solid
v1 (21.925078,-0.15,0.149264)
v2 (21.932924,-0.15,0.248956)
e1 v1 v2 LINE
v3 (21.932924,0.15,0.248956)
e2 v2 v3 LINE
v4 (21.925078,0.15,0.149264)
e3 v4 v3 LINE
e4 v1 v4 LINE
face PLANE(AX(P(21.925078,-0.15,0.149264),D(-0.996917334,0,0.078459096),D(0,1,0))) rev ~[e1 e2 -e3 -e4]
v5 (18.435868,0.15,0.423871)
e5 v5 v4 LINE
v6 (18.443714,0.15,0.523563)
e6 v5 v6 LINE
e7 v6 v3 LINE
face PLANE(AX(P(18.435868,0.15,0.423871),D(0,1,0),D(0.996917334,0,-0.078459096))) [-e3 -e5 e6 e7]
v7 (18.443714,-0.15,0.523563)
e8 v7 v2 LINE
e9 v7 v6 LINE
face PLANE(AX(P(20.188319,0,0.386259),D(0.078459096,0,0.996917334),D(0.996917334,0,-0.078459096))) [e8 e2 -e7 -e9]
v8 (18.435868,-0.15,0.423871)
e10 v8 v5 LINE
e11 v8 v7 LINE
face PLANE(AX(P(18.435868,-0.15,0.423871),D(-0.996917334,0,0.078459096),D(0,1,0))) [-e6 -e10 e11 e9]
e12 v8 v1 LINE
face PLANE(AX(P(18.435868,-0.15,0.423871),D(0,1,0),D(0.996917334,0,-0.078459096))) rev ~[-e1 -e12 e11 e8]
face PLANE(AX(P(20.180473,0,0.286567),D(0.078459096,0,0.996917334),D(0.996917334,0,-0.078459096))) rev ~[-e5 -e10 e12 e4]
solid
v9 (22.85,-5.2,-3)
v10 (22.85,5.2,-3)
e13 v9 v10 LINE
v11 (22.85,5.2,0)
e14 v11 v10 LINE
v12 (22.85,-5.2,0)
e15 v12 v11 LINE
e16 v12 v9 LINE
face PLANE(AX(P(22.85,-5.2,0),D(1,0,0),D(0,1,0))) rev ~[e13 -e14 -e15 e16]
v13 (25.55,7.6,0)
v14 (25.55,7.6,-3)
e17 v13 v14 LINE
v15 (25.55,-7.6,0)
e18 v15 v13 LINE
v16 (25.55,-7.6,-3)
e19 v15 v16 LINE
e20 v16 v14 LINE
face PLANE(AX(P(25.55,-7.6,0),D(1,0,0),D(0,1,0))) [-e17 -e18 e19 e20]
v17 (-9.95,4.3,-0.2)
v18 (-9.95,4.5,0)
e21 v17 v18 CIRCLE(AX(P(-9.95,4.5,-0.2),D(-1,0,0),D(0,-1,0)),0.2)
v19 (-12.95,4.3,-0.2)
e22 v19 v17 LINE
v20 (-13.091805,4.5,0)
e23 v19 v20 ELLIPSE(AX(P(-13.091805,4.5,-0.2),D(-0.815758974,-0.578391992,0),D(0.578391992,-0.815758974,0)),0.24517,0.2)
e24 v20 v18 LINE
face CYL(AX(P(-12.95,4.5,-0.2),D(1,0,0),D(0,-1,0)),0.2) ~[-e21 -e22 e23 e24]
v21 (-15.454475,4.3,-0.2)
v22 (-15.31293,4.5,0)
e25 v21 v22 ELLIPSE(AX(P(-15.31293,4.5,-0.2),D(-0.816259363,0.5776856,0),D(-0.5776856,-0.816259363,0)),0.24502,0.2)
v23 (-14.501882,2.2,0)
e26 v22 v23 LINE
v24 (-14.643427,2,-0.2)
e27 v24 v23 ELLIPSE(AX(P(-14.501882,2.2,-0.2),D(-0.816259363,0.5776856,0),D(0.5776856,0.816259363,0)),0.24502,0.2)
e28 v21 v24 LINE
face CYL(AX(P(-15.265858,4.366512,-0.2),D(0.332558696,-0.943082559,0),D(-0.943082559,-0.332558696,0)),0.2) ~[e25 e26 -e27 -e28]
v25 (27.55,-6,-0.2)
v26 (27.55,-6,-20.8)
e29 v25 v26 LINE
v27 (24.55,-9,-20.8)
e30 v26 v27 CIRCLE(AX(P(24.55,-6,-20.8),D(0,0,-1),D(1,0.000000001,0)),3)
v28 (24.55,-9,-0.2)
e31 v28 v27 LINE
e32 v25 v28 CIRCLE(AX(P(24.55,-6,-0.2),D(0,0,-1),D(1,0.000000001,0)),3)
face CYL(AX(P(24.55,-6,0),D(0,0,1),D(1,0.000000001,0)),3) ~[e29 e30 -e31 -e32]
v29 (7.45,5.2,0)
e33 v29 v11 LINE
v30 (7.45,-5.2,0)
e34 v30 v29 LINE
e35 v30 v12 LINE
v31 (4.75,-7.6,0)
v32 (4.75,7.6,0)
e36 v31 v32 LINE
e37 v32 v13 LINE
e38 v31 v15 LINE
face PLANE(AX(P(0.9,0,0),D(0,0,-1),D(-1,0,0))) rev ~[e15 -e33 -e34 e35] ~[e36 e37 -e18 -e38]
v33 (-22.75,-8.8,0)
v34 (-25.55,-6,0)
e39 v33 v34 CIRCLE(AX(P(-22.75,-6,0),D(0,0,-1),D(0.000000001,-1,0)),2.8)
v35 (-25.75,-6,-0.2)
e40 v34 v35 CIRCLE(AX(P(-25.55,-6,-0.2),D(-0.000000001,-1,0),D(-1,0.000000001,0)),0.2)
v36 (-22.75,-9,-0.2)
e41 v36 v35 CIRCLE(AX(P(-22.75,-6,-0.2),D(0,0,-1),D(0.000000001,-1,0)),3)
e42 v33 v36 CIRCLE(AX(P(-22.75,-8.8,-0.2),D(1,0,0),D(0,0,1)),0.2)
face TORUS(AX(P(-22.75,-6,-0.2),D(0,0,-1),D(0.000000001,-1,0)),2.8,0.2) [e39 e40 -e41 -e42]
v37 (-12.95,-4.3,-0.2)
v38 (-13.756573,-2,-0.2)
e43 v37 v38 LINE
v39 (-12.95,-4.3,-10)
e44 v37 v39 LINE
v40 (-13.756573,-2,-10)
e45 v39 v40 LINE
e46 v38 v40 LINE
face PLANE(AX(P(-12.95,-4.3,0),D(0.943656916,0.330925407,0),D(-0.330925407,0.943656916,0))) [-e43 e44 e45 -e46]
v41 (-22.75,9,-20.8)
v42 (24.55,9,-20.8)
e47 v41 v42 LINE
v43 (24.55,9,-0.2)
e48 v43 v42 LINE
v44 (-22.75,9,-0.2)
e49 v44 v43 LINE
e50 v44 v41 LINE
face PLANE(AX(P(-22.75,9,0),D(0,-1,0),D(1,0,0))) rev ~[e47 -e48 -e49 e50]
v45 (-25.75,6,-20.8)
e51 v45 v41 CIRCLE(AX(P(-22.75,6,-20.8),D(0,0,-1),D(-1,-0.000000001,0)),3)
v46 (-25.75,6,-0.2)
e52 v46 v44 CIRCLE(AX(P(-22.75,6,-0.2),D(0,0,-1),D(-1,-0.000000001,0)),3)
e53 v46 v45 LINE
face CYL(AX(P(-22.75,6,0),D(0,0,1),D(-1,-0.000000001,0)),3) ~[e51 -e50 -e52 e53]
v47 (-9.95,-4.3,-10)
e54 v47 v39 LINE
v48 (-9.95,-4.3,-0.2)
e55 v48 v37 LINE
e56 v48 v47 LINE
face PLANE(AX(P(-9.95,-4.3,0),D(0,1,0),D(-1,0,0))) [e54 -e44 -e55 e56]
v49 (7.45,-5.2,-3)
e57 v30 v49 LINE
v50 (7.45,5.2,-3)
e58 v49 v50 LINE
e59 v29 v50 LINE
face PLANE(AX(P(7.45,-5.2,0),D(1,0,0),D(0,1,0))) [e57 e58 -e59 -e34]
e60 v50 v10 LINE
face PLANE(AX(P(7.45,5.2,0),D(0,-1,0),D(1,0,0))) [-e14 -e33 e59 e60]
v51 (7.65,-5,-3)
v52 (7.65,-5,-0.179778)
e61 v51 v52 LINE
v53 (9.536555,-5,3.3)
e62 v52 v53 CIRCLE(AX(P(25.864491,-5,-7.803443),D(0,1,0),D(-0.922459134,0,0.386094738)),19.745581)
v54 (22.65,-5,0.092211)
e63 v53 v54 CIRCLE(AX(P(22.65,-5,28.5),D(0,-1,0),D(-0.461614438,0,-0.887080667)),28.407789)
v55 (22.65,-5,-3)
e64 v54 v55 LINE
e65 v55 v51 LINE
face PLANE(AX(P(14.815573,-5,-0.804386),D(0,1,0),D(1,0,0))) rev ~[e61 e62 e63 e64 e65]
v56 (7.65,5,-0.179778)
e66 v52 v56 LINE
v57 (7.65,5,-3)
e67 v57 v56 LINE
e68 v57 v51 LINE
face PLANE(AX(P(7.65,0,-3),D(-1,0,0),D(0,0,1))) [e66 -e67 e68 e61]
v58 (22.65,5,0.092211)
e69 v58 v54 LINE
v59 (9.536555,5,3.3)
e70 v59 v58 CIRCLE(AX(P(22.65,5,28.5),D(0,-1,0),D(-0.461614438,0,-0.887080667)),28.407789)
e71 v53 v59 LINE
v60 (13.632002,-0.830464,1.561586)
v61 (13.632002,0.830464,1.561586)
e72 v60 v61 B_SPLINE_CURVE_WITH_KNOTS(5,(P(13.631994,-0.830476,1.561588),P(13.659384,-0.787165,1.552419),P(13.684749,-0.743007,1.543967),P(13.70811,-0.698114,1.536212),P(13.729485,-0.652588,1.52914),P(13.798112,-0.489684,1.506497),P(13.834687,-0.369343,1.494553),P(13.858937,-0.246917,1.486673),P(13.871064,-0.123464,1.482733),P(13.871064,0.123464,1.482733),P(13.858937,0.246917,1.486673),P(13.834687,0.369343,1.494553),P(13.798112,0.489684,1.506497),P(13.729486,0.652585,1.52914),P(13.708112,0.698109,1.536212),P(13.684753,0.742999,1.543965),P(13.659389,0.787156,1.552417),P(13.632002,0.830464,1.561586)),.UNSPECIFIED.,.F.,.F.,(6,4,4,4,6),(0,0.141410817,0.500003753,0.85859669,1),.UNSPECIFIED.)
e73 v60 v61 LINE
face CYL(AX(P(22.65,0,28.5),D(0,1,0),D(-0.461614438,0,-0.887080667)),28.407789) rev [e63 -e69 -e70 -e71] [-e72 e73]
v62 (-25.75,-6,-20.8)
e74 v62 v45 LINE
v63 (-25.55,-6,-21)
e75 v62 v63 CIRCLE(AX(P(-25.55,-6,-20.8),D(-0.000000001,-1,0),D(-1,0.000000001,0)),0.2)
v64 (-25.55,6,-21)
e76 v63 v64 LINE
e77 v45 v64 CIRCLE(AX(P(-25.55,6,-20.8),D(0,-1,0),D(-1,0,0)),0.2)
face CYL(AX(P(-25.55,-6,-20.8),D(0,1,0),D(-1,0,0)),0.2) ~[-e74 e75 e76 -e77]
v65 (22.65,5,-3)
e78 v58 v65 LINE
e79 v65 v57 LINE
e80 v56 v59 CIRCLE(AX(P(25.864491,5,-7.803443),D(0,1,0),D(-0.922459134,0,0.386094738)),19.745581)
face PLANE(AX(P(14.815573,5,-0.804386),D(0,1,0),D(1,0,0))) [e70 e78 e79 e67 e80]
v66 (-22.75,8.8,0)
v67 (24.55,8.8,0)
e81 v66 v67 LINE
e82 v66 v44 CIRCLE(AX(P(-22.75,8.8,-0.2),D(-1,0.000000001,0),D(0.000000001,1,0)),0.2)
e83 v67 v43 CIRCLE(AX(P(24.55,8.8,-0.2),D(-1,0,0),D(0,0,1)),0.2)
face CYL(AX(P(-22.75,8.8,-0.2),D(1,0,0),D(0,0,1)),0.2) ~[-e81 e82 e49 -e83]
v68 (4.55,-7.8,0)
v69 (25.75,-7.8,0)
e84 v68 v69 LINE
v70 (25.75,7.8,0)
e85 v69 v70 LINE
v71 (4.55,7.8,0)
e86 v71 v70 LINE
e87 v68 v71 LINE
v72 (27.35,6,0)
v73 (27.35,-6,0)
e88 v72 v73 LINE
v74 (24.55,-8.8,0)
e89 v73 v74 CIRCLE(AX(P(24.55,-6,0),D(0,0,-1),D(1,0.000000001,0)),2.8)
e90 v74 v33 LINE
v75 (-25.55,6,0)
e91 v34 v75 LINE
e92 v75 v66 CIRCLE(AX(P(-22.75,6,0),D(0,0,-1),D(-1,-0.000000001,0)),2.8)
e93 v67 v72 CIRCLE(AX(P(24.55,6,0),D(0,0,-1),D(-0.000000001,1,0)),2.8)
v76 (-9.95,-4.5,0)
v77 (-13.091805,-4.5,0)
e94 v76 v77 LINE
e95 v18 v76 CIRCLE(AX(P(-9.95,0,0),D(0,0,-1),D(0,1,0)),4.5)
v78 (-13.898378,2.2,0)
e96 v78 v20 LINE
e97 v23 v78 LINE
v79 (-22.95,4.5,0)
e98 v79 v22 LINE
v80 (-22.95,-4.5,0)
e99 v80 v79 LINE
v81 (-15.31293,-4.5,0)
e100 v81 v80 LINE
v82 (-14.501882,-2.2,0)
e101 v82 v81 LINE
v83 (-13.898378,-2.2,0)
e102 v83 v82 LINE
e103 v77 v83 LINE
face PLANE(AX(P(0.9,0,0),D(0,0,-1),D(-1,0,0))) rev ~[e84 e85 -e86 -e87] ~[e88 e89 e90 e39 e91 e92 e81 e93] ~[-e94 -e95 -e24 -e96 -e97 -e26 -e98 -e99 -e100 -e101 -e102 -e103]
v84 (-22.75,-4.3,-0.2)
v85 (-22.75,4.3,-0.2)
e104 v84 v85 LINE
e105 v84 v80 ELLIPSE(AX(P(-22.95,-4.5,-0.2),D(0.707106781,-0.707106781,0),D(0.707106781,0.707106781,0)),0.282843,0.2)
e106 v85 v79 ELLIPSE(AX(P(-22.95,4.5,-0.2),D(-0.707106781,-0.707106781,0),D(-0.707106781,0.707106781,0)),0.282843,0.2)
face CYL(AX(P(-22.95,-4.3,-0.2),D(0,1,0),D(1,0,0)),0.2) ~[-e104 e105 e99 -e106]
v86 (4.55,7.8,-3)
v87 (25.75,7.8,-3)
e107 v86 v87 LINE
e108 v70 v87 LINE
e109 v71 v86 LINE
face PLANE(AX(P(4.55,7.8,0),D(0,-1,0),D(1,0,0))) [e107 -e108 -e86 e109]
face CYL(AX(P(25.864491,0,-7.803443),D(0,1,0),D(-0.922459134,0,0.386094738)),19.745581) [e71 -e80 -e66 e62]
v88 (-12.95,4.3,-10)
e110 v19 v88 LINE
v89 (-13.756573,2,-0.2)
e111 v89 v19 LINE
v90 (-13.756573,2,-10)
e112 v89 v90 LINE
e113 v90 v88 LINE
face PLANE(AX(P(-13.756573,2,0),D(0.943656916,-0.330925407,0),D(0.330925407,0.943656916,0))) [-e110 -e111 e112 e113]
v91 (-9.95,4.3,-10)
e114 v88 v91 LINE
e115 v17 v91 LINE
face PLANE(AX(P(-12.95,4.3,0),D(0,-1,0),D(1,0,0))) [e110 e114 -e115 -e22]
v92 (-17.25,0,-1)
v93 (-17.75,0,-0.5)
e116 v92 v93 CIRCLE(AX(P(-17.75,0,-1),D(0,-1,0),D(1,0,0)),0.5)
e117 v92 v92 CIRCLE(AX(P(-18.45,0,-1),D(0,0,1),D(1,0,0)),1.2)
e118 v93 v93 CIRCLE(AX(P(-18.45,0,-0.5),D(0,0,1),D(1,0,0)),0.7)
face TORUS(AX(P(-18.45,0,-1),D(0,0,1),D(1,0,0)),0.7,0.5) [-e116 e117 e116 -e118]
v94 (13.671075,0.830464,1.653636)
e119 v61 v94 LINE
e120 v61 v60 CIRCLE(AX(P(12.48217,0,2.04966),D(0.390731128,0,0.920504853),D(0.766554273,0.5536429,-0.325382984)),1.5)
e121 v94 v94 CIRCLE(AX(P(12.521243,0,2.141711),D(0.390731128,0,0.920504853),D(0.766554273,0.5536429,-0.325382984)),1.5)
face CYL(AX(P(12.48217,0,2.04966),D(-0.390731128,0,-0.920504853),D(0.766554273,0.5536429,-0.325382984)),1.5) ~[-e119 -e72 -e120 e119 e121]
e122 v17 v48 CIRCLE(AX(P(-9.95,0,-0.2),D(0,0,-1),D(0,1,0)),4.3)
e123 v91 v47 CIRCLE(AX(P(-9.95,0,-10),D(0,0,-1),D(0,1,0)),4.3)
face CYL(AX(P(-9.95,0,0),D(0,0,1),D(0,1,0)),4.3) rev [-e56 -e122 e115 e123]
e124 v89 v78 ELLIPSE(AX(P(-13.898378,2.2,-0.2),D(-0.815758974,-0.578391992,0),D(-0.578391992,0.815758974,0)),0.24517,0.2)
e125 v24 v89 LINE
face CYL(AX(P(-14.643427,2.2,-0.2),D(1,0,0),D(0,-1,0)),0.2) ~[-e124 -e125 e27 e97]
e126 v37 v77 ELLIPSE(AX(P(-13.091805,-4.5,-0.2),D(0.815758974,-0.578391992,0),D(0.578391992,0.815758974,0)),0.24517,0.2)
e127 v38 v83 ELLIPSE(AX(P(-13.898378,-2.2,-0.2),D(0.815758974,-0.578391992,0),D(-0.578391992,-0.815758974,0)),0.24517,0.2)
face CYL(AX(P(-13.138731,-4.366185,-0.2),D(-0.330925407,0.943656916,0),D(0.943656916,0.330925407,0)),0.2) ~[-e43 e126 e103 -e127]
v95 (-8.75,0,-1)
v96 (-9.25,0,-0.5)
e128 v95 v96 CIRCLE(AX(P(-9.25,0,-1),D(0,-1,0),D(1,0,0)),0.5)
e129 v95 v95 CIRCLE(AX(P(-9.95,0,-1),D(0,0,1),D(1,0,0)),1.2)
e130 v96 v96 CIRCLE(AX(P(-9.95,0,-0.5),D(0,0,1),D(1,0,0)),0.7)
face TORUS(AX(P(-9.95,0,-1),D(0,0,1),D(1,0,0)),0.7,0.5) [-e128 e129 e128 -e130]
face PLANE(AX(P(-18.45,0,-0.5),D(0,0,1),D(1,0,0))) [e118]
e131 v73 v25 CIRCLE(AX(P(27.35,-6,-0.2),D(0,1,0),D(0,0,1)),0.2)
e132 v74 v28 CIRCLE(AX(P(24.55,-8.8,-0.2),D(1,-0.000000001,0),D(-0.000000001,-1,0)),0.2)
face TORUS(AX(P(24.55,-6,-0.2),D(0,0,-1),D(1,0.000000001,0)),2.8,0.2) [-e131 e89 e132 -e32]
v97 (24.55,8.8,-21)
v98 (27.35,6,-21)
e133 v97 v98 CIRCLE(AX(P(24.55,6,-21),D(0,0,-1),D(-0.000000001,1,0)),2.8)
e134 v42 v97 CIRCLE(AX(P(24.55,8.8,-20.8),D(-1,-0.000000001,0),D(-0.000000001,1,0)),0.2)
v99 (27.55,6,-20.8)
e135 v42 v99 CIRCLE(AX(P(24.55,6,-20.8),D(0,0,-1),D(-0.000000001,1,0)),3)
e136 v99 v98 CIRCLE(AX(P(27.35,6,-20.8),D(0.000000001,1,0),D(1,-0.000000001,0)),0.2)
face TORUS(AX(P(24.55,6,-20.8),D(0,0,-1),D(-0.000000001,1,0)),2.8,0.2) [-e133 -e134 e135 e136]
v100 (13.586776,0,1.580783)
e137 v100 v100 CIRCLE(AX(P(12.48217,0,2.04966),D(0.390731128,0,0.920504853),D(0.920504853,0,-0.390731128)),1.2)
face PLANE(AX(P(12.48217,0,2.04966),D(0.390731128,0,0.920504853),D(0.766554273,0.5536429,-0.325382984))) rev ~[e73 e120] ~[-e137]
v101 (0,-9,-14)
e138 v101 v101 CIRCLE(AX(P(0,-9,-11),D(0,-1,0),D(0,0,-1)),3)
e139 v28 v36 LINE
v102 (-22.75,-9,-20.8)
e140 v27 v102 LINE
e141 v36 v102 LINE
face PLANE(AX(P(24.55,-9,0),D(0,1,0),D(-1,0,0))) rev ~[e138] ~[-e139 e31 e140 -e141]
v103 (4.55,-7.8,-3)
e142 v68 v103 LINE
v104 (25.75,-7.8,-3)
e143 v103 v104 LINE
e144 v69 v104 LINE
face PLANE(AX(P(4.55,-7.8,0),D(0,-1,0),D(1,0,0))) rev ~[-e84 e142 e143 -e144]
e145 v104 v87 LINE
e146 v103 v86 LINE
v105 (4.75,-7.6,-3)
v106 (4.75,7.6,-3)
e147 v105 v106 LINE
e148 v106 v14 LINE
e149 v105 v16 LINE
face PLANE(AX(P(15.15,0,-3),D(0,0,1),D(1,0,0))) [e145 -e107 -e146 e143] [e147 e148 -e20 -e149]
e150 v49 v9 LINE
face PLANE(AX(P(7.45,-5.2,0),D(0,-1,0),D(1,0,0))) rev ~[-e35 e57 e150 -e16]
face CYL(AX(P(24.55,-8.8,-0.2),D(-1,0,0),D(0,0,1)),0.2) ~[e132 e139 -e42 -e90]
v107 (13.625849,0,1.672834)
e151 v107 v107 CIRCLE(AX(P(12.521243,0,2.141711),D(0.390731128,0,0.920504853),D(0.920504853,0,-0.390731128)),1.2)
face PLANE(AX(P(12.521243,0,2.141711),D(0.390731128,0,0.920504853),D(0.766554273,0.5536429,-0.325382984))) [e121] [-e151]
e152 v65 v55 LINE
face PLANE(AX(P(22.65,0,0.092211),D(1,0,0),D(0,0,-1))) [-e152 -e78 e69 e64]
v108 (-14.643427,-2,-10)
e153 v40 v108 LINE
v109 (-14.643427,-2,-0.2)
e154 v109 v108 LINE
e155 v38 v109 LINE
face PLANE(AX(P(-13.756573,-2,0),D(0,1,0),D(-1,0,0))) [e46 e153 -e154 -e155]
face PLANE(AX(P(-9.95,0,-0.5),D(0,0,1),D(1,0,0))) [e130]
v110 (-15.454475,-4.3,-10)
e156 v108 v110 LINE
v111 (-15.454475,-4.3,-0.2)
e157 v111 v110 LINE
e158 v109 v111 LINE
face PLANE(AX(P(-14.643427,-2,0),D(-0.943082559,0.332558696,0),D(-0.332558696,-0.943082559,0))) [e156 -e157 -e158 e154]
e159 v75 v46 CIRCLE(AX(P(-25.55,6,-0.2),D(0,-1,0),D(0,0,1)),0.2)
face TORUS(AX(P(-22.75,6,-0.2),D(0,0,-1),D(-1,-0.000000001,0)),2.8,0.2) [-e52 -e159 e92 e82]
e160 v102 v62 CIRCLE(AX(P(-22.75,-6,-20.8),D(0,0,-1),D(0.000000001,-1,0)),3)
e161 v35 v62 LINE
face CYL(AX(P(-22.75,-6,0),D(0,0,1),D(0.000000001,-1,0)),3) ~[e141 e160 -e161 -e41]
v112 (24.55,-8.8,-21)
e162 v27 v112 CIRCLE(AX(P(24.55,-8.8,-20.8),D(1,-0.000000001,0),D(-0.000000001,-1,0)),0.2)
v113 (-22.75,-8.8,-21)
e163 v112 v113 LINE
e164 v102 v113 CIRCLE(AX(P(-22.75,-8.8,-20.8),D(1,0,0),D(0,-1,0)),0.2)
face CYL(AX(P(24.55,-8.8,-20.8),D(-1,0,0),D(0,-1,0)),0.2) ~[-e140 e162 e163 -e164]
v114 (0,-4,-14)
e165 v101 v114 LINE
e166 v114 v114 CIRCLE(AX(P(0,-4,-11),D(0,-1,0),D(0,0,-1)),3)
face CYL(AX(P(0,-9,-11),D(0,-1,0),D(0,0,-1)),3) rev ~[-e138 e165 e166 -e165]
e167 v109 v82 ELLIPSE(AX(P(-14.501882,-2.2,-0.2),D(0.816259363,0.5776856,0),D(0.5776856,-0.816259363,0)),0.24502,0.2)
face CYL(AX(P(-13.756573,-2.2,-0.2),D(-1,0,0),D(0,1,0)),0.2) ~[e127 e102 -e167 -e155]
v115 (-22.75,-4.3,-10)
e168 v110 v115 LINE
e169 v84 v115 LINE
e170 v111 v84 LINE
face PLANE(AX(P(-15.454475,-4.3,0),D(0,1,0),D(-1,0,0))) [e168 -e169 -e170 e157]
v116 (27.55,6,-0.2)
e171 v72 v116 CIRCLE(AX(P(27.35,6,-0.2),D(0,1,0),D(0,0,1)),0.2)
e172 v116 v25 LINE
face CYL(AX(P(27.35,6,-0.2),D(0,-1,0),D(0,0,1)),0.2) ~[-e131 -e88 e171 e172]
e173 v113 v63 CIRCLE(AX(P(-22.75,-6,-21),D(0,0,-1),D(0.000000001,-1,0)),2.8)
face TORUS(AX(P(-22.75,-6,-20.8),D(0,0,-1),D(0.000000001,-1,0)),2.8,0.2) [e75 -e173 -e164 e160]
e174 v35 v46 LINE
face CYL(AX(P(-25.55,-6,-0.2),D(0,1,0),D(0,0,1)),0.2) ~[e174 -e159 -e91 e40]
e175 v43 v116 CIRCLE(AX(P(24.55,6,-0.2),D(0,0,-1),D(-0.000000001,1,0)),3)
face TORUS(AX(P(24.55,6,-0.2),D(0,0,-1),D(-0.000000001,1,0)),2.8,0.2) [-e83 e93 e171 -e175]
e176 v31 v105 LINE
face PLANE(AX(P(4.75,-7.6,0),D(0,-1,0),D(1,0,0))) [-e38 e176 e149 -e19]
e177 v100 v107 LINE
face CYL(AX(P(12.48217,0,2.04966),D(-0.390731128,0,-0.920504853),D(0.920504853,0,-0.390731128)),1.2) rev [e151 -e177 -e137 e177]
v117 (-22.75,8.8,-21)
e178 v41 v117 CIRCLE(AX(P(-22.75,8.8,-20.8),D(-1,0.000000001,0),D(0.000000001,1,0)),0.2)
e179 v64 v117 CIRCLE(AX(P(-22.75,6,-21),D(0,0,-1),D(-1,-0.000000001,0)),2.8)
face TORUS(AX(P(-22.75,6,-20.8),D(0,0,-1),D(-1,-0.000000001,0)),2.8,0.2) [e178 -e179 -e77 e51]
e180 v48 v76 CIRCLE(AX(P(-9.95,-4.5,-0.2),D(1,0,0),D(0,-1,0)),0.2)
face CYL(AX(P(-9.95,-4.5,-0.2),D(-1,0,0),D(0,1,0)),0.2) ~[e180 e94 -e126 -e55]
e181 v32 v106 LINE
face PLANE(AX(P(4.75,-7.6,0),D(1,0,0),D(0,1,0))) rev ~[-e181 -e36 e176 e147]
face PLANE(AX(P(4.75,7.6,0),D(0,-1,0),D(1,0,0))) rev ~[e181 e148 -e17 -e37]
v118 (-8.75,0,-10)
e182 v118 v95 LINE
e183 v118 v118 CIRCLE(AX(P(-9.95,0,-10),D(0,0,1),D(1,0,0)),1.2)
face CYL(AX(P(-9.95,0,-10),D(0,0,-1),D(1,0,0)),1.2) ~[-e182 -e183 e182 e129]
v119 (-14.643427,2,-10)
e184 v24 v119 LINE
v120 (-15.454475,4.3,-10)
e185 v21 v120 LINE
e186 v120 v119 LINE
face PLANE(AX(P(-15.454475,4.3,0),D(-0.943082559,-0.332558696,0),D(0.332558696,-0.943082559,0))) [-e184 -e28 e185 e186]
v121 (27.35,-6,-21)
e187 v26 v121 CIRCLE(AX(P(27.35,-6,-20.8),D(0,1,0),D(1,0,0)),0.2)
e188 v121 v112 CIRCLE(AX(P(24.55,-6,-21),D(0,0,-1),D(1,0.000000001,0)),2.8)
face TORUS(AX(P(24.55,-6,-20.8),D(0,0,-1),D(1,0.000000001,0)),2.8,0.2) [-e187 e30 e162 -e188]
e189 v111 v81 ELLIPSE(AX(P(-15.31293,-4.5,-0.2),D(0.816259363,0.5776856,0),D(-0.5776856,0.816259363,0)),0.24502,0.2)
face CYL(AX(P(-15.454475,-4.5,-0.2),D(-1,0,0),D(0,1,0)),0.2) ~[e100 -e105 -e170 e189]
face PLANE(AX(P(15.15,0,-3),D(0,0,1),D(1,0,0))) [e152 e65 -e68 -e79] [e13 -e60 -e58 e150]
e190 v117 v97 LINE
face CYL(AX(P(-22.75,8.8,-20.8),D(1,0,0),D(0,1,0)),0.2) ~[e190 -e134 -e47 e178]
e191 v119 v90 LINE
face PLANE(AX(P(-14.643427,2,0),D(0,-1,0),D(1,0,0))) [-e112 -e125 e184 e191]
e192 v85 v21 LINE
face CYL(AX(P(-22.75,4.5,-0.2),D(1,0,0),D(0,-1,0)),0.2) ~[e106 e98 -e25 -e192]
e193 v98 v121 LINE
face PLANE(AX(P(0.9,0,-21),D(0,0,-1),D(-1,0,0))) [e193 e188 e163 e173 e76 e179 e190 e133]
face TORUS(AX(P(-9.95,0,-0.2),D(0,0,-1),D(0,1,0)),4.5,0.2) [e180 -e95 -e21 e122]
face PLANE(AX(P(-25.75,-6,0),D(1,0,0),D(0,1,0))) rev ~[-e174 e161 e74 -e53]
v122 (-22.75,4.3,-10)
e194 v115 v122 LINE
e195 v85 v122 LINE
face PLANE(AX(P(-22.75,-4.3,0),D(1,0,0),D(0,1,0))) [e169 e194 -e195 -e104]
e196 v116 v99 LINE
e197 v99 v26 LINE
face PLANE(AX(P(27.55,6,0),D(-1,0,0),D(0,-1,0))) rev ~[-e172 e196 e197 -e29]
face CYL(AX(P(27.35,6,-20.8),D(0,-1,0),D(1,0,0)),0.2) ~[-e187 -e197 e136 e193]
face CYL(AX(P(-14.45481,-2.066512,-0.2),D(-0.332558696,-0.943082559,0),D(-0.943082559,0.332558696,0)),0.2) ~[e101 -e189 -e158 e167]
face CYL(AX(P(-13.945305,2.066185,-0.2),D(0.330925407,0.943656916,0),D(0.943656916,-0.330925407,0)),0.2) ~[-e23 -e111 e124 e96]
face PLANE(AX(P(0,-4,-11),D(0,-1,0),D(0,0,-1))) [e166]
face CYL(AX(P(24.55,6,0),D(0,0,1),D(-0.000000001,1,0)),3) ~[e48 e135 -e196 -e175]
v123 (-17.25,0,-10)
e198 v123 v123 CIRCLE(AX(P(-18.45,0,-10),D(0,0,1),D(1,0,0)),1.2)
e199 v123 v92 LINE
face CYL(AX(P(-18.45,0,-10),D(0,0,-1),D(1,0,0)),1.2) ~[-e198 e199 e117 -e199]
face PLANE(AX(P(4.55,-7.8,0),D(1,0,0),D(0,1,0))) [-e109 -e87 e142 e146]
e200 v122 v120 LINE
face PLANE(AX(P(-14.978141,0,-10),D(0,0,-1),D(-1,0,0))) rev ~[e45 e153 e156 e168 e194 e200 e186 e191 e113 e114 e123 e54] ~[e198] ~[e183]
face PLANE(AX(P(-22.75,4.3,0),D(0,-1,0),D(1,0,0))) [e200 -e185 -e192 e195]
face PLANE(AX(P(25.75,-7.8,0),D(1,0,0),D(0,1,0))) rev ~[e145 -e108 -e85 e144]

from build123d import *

# Parameters (mm, degrees)
EXTRUSION1_DEPTH        = 21
ENL_V_MAT_EXTRU_1_DEPTH = 10
ESQUISSE3_R             = 1.2
EXTRUSION2_DEPTH        = 9.5
CONG_1_R                = 0.5
CONG_2_R                = 0.2
ESQUISSE5_W             = 21.2
ESQUISSE5_H             = 15.6
ESQUISSE5_W_2           = 20.8
ESQUISSE5_H_2           = 15.2
ENL_V_MAT_EXTRU_2_DEPTH = 3
ESQUISSE6_W             = 15.4
ESQUISSE6_H             = 10.4
ENL_V_MAT_EXTRU_3_DEPTH = 3
EXTRUSION3_DEPTH        = 5
ESQUISSE8_R             = 1.5
ESQUISSE8_R_2           = 1.2
EXTRUSION4_DEPTH        = 0.1
ESQUISSE9_W             = 3.5
ESQUISSE9_H             = 0.3
EXTRUSION5_DEPTH        = 0.1
ESQUISSE10_R            = 3
ENL_V_MAT_EXTRU_4_DEPTH = 5
CONG_3_R                = 0.2
CONG_4_R                = 0.2


with BuildPart() as part:
    # Esquisse1 → Extrusion1 (new body)
    with BuildSketch(Plane.XY):
        with BuildLine():
            Line((-22.75, 9), (24.55, 9))
            ThreePointArc((24.55, 9), (26.671320344, 8.121320344), (27.55, 6))
            Line((27.55, 6), (27.55, -6))
            ThreePointArc((27.55, -6), (26.671320344, -8.121320344), (24.55, -9))
            Line((24.55, -9), (-22.75, -9))
            ThreePointArc((-22.75, -9), (-24.871320344, -8.121320344), (-25.75, -6))
            Line((-25.75, -6), (-25.75, 6))
            ThreePointArc((-25.75, 6), (-24.871320344, 8.121320344), (-22.75, 9))
        make_face()
    extrude(amount=-EXTRUSION1_DEPTH)

    # Esquisse2 → Enlèv. mat.-Extru.1 (cut)
    with BuildSketch(Plane.XY):
        with BuildLine():
            Line((-22.75, 4.3), (-15.454474502, 4.3))
            Line((-15.454474502, 4.3), (-14.643426738, 2))
            Line((-14.643426738, 2), (-13.756573262, 2))
            Line((-13.756573262, 2), (-12.95, 4.3))
            Line((-12.95, 4.3), (-9.95, 4.3))
            ThreePointArc((-9.95, 4.3), (-5.65, 0), (-9.95, -4.3))
            Line((-9.95, -4.3), (-12.95, -4.3))
            Line((-12.95, -4.3), (-13.756573262, -2))
            Line((-13.756573262, -2), (-14.643426738, -2))
            Line((-14.643426738, -2), (-15.454474502, -4.3))
            Line((-15.454474502, -4.3), (-22.75, -4.3))
            Line((-22.75, -4.3), (-22.75, 4.3))
        make_face()
    extrude(amount=-ENL_V_MAT_EXTRU_1_DEPTH, mode=Mode.SUBTRACT)

    # Esquisse3 → Extrusion2 (add)
    with BuildSketch(Plane.XY.offset(-10)):
        with Locations((-9.95, 0)):
            Circle(ESQUISSE3_R)
        with Locations((-18.45, 0)):
            Circle(ESQUISSE3_R)
    extrude(amount=EXTRUSION2_DEPTH)

    # Congé1
    cong_1_edges = [part.edges().sort_by_distance(p)[0] for p in [
        (-11.15, 0, -0.5),
        (-19.65, 0, -0.5),
    ]]
    fillet(cong_1_edges, radius=CONG_1_R)

    # Congé2
    cong_2_edges = [part.edges().sort_by_distance(p)[0] for p in [
        (-22.75, 0, 0),
        (-19.102237251, -4.3, 0),
        (-15.04895062, -3.15, 0),
        (-14.2, -2, 0),
        (-13.353286631, -3.15, 0),
        (-11.45, -4.3, 0),
        (-5.65, 0, 0),
        (-11.45, 4.3, 0),
        (-13.353286631, 3.15, 0),
        (-14.2, 2, 0),
        (-15.04895062, 3.15, 0),
        (-19.102237251, 4.3, 0),
    ]]
    fillet(cong_2_edges, radius=CONG_2_R)

    # Esquisse5 → Enlèv. mat.-Extru.2 (cut)
    with BuildSketch(Plane.XY):
        with Locations((15.15, 0)):
            Rectangle(ESQUISSE5_W, ESQUISSE5_H)
        with Locations((15.15, 0)):
            Rectangle(ESQUISSE5_W_2, ESQUISSE5_H_2, mode=Mode.SUBTRACT)
    extrude(amount=-ENL_V_MAT_EXTRU_2_DEPTH, mode=Mode.SUBTRACT)

    # Esquisse6 → Enlèv. mat.-Extru.3 (cut)
    with BuildSketch(Plane.XY):
        with Locations((15.15, 0)):
            Rectangle(ESQUISSE6_W, ESQUISSE6_H)
    extrude(amount=-ENL_V_MAT_EXTRU_3_DEPTH, mode=Mode.SUBTRACT)

    # Esquisse7 → Extrusion3 (add, symmetric)
    with BuildSketch(Plane(origin=(0, 0, 0), x_dir=(1, 0, 0), z_dir=(0, 1, 0))):
        with BuildLine():
            Line((7.65, 3), (7.65, 0.179778052))
            ThreePointArc((7.65, 0.179778052), (8.505861002, -1.607503561), (9.536554661, -3.3))
            ThreePointArc((9.536554661, -3.3), (15.899956373, -0.905809313), (22.65, -0.092211479))
            Line((22.65, -0.092211479), (22.65, 3))
            Line((22.65, 3), (7.65, 3))
        make_face()
    extrude(amount=EXTRUSION3_DEPTH, both=True)

    # Esquisse8 → Extrusion4 (add)
    with BuildSketch(Plane(origin=(2.642864241, 0, 6.226197974), x_dir=(0.9205048534524413, 0, -0.39073112848927166), z_dir=(0.39073112848927166, 0, 0.9205048534524413))):
        with Locations(Location((10.689032127, 0, 0), (0, 0, 33.617291892))):
            Circle(ESQUISSE8_R)
        with Locations((10.689032127, 0)):
            Circle(ESQUISSE8_R_2, mode=Mode.SUBTRACT)
    extrude(amount=EXTRUSION4_DEPTH)

    # Esquisse10 → Enlèv. mat.-Extru.4 (cut)
    with BuildSketch(Plane.XZ.offset(9)):
        with Locations(Location((0, -11, 0), (0, 0, 270))):
            Circle(ESQUISSE10_R)
    extrude(amount=-ENL_V_MAT_EXTRU_4_DEPTH, mode=Mode.SUBTRACT)

    # Congé3
    cong_3_edges = [part.edges().sort_by_distance(p)[0] for p in [
        (27.55, 0, 0),
        (26.671320344, -8.121320344, 0),
        (0.9, -9, 0),
        (-24.871320344, -8.121320344, 0),
        (-25.75, 0, 0),
        (-24.871320344, 8.121320344, 0),
        (0.9, 9, 0),
        (26.671320344, 8.121320344, 0),
    ]]
    fillet(cong_3_edges, radius=CONG_3_R)

    # Congé4
    cong_4_edges = [part.edges().sort_by_distance(p)[0] for p in [
        (26.671320344, 8.121320344, -21),
        (0.9, 9, -21),
        (-24.871320344, 8.121320344, -21),
        (-25.75, 0, -21),
        (-24.871320344, -8.121320344, -21),
        (0.9, -9, -21),
        (26.671320344, -8.121320344, -21),
        (27.55, 0, -21),
    ]]
    fillet(cong_4_edges, radius=CONG_4_R)


with BuildPart() as body_2:
    # Esquisse9 → Extrusion5 (new body)
    with BuildSketch(Plane(origin=(0.146642069, 0, 1.863264158), x_dir=(0.9969173337331282, 0, -0.07845909572784168), z_dir=(0.07845909572784168, 0, 0.9969173337331282))):
        with Locations((20.095779555, 0)):
            Rectangle(ESQUISSE9_W, ESQUISSE9_H)
    extrude(amount=EXTRUSION5_DEPTH)


solid = Compound([part.part, body_2.part])
